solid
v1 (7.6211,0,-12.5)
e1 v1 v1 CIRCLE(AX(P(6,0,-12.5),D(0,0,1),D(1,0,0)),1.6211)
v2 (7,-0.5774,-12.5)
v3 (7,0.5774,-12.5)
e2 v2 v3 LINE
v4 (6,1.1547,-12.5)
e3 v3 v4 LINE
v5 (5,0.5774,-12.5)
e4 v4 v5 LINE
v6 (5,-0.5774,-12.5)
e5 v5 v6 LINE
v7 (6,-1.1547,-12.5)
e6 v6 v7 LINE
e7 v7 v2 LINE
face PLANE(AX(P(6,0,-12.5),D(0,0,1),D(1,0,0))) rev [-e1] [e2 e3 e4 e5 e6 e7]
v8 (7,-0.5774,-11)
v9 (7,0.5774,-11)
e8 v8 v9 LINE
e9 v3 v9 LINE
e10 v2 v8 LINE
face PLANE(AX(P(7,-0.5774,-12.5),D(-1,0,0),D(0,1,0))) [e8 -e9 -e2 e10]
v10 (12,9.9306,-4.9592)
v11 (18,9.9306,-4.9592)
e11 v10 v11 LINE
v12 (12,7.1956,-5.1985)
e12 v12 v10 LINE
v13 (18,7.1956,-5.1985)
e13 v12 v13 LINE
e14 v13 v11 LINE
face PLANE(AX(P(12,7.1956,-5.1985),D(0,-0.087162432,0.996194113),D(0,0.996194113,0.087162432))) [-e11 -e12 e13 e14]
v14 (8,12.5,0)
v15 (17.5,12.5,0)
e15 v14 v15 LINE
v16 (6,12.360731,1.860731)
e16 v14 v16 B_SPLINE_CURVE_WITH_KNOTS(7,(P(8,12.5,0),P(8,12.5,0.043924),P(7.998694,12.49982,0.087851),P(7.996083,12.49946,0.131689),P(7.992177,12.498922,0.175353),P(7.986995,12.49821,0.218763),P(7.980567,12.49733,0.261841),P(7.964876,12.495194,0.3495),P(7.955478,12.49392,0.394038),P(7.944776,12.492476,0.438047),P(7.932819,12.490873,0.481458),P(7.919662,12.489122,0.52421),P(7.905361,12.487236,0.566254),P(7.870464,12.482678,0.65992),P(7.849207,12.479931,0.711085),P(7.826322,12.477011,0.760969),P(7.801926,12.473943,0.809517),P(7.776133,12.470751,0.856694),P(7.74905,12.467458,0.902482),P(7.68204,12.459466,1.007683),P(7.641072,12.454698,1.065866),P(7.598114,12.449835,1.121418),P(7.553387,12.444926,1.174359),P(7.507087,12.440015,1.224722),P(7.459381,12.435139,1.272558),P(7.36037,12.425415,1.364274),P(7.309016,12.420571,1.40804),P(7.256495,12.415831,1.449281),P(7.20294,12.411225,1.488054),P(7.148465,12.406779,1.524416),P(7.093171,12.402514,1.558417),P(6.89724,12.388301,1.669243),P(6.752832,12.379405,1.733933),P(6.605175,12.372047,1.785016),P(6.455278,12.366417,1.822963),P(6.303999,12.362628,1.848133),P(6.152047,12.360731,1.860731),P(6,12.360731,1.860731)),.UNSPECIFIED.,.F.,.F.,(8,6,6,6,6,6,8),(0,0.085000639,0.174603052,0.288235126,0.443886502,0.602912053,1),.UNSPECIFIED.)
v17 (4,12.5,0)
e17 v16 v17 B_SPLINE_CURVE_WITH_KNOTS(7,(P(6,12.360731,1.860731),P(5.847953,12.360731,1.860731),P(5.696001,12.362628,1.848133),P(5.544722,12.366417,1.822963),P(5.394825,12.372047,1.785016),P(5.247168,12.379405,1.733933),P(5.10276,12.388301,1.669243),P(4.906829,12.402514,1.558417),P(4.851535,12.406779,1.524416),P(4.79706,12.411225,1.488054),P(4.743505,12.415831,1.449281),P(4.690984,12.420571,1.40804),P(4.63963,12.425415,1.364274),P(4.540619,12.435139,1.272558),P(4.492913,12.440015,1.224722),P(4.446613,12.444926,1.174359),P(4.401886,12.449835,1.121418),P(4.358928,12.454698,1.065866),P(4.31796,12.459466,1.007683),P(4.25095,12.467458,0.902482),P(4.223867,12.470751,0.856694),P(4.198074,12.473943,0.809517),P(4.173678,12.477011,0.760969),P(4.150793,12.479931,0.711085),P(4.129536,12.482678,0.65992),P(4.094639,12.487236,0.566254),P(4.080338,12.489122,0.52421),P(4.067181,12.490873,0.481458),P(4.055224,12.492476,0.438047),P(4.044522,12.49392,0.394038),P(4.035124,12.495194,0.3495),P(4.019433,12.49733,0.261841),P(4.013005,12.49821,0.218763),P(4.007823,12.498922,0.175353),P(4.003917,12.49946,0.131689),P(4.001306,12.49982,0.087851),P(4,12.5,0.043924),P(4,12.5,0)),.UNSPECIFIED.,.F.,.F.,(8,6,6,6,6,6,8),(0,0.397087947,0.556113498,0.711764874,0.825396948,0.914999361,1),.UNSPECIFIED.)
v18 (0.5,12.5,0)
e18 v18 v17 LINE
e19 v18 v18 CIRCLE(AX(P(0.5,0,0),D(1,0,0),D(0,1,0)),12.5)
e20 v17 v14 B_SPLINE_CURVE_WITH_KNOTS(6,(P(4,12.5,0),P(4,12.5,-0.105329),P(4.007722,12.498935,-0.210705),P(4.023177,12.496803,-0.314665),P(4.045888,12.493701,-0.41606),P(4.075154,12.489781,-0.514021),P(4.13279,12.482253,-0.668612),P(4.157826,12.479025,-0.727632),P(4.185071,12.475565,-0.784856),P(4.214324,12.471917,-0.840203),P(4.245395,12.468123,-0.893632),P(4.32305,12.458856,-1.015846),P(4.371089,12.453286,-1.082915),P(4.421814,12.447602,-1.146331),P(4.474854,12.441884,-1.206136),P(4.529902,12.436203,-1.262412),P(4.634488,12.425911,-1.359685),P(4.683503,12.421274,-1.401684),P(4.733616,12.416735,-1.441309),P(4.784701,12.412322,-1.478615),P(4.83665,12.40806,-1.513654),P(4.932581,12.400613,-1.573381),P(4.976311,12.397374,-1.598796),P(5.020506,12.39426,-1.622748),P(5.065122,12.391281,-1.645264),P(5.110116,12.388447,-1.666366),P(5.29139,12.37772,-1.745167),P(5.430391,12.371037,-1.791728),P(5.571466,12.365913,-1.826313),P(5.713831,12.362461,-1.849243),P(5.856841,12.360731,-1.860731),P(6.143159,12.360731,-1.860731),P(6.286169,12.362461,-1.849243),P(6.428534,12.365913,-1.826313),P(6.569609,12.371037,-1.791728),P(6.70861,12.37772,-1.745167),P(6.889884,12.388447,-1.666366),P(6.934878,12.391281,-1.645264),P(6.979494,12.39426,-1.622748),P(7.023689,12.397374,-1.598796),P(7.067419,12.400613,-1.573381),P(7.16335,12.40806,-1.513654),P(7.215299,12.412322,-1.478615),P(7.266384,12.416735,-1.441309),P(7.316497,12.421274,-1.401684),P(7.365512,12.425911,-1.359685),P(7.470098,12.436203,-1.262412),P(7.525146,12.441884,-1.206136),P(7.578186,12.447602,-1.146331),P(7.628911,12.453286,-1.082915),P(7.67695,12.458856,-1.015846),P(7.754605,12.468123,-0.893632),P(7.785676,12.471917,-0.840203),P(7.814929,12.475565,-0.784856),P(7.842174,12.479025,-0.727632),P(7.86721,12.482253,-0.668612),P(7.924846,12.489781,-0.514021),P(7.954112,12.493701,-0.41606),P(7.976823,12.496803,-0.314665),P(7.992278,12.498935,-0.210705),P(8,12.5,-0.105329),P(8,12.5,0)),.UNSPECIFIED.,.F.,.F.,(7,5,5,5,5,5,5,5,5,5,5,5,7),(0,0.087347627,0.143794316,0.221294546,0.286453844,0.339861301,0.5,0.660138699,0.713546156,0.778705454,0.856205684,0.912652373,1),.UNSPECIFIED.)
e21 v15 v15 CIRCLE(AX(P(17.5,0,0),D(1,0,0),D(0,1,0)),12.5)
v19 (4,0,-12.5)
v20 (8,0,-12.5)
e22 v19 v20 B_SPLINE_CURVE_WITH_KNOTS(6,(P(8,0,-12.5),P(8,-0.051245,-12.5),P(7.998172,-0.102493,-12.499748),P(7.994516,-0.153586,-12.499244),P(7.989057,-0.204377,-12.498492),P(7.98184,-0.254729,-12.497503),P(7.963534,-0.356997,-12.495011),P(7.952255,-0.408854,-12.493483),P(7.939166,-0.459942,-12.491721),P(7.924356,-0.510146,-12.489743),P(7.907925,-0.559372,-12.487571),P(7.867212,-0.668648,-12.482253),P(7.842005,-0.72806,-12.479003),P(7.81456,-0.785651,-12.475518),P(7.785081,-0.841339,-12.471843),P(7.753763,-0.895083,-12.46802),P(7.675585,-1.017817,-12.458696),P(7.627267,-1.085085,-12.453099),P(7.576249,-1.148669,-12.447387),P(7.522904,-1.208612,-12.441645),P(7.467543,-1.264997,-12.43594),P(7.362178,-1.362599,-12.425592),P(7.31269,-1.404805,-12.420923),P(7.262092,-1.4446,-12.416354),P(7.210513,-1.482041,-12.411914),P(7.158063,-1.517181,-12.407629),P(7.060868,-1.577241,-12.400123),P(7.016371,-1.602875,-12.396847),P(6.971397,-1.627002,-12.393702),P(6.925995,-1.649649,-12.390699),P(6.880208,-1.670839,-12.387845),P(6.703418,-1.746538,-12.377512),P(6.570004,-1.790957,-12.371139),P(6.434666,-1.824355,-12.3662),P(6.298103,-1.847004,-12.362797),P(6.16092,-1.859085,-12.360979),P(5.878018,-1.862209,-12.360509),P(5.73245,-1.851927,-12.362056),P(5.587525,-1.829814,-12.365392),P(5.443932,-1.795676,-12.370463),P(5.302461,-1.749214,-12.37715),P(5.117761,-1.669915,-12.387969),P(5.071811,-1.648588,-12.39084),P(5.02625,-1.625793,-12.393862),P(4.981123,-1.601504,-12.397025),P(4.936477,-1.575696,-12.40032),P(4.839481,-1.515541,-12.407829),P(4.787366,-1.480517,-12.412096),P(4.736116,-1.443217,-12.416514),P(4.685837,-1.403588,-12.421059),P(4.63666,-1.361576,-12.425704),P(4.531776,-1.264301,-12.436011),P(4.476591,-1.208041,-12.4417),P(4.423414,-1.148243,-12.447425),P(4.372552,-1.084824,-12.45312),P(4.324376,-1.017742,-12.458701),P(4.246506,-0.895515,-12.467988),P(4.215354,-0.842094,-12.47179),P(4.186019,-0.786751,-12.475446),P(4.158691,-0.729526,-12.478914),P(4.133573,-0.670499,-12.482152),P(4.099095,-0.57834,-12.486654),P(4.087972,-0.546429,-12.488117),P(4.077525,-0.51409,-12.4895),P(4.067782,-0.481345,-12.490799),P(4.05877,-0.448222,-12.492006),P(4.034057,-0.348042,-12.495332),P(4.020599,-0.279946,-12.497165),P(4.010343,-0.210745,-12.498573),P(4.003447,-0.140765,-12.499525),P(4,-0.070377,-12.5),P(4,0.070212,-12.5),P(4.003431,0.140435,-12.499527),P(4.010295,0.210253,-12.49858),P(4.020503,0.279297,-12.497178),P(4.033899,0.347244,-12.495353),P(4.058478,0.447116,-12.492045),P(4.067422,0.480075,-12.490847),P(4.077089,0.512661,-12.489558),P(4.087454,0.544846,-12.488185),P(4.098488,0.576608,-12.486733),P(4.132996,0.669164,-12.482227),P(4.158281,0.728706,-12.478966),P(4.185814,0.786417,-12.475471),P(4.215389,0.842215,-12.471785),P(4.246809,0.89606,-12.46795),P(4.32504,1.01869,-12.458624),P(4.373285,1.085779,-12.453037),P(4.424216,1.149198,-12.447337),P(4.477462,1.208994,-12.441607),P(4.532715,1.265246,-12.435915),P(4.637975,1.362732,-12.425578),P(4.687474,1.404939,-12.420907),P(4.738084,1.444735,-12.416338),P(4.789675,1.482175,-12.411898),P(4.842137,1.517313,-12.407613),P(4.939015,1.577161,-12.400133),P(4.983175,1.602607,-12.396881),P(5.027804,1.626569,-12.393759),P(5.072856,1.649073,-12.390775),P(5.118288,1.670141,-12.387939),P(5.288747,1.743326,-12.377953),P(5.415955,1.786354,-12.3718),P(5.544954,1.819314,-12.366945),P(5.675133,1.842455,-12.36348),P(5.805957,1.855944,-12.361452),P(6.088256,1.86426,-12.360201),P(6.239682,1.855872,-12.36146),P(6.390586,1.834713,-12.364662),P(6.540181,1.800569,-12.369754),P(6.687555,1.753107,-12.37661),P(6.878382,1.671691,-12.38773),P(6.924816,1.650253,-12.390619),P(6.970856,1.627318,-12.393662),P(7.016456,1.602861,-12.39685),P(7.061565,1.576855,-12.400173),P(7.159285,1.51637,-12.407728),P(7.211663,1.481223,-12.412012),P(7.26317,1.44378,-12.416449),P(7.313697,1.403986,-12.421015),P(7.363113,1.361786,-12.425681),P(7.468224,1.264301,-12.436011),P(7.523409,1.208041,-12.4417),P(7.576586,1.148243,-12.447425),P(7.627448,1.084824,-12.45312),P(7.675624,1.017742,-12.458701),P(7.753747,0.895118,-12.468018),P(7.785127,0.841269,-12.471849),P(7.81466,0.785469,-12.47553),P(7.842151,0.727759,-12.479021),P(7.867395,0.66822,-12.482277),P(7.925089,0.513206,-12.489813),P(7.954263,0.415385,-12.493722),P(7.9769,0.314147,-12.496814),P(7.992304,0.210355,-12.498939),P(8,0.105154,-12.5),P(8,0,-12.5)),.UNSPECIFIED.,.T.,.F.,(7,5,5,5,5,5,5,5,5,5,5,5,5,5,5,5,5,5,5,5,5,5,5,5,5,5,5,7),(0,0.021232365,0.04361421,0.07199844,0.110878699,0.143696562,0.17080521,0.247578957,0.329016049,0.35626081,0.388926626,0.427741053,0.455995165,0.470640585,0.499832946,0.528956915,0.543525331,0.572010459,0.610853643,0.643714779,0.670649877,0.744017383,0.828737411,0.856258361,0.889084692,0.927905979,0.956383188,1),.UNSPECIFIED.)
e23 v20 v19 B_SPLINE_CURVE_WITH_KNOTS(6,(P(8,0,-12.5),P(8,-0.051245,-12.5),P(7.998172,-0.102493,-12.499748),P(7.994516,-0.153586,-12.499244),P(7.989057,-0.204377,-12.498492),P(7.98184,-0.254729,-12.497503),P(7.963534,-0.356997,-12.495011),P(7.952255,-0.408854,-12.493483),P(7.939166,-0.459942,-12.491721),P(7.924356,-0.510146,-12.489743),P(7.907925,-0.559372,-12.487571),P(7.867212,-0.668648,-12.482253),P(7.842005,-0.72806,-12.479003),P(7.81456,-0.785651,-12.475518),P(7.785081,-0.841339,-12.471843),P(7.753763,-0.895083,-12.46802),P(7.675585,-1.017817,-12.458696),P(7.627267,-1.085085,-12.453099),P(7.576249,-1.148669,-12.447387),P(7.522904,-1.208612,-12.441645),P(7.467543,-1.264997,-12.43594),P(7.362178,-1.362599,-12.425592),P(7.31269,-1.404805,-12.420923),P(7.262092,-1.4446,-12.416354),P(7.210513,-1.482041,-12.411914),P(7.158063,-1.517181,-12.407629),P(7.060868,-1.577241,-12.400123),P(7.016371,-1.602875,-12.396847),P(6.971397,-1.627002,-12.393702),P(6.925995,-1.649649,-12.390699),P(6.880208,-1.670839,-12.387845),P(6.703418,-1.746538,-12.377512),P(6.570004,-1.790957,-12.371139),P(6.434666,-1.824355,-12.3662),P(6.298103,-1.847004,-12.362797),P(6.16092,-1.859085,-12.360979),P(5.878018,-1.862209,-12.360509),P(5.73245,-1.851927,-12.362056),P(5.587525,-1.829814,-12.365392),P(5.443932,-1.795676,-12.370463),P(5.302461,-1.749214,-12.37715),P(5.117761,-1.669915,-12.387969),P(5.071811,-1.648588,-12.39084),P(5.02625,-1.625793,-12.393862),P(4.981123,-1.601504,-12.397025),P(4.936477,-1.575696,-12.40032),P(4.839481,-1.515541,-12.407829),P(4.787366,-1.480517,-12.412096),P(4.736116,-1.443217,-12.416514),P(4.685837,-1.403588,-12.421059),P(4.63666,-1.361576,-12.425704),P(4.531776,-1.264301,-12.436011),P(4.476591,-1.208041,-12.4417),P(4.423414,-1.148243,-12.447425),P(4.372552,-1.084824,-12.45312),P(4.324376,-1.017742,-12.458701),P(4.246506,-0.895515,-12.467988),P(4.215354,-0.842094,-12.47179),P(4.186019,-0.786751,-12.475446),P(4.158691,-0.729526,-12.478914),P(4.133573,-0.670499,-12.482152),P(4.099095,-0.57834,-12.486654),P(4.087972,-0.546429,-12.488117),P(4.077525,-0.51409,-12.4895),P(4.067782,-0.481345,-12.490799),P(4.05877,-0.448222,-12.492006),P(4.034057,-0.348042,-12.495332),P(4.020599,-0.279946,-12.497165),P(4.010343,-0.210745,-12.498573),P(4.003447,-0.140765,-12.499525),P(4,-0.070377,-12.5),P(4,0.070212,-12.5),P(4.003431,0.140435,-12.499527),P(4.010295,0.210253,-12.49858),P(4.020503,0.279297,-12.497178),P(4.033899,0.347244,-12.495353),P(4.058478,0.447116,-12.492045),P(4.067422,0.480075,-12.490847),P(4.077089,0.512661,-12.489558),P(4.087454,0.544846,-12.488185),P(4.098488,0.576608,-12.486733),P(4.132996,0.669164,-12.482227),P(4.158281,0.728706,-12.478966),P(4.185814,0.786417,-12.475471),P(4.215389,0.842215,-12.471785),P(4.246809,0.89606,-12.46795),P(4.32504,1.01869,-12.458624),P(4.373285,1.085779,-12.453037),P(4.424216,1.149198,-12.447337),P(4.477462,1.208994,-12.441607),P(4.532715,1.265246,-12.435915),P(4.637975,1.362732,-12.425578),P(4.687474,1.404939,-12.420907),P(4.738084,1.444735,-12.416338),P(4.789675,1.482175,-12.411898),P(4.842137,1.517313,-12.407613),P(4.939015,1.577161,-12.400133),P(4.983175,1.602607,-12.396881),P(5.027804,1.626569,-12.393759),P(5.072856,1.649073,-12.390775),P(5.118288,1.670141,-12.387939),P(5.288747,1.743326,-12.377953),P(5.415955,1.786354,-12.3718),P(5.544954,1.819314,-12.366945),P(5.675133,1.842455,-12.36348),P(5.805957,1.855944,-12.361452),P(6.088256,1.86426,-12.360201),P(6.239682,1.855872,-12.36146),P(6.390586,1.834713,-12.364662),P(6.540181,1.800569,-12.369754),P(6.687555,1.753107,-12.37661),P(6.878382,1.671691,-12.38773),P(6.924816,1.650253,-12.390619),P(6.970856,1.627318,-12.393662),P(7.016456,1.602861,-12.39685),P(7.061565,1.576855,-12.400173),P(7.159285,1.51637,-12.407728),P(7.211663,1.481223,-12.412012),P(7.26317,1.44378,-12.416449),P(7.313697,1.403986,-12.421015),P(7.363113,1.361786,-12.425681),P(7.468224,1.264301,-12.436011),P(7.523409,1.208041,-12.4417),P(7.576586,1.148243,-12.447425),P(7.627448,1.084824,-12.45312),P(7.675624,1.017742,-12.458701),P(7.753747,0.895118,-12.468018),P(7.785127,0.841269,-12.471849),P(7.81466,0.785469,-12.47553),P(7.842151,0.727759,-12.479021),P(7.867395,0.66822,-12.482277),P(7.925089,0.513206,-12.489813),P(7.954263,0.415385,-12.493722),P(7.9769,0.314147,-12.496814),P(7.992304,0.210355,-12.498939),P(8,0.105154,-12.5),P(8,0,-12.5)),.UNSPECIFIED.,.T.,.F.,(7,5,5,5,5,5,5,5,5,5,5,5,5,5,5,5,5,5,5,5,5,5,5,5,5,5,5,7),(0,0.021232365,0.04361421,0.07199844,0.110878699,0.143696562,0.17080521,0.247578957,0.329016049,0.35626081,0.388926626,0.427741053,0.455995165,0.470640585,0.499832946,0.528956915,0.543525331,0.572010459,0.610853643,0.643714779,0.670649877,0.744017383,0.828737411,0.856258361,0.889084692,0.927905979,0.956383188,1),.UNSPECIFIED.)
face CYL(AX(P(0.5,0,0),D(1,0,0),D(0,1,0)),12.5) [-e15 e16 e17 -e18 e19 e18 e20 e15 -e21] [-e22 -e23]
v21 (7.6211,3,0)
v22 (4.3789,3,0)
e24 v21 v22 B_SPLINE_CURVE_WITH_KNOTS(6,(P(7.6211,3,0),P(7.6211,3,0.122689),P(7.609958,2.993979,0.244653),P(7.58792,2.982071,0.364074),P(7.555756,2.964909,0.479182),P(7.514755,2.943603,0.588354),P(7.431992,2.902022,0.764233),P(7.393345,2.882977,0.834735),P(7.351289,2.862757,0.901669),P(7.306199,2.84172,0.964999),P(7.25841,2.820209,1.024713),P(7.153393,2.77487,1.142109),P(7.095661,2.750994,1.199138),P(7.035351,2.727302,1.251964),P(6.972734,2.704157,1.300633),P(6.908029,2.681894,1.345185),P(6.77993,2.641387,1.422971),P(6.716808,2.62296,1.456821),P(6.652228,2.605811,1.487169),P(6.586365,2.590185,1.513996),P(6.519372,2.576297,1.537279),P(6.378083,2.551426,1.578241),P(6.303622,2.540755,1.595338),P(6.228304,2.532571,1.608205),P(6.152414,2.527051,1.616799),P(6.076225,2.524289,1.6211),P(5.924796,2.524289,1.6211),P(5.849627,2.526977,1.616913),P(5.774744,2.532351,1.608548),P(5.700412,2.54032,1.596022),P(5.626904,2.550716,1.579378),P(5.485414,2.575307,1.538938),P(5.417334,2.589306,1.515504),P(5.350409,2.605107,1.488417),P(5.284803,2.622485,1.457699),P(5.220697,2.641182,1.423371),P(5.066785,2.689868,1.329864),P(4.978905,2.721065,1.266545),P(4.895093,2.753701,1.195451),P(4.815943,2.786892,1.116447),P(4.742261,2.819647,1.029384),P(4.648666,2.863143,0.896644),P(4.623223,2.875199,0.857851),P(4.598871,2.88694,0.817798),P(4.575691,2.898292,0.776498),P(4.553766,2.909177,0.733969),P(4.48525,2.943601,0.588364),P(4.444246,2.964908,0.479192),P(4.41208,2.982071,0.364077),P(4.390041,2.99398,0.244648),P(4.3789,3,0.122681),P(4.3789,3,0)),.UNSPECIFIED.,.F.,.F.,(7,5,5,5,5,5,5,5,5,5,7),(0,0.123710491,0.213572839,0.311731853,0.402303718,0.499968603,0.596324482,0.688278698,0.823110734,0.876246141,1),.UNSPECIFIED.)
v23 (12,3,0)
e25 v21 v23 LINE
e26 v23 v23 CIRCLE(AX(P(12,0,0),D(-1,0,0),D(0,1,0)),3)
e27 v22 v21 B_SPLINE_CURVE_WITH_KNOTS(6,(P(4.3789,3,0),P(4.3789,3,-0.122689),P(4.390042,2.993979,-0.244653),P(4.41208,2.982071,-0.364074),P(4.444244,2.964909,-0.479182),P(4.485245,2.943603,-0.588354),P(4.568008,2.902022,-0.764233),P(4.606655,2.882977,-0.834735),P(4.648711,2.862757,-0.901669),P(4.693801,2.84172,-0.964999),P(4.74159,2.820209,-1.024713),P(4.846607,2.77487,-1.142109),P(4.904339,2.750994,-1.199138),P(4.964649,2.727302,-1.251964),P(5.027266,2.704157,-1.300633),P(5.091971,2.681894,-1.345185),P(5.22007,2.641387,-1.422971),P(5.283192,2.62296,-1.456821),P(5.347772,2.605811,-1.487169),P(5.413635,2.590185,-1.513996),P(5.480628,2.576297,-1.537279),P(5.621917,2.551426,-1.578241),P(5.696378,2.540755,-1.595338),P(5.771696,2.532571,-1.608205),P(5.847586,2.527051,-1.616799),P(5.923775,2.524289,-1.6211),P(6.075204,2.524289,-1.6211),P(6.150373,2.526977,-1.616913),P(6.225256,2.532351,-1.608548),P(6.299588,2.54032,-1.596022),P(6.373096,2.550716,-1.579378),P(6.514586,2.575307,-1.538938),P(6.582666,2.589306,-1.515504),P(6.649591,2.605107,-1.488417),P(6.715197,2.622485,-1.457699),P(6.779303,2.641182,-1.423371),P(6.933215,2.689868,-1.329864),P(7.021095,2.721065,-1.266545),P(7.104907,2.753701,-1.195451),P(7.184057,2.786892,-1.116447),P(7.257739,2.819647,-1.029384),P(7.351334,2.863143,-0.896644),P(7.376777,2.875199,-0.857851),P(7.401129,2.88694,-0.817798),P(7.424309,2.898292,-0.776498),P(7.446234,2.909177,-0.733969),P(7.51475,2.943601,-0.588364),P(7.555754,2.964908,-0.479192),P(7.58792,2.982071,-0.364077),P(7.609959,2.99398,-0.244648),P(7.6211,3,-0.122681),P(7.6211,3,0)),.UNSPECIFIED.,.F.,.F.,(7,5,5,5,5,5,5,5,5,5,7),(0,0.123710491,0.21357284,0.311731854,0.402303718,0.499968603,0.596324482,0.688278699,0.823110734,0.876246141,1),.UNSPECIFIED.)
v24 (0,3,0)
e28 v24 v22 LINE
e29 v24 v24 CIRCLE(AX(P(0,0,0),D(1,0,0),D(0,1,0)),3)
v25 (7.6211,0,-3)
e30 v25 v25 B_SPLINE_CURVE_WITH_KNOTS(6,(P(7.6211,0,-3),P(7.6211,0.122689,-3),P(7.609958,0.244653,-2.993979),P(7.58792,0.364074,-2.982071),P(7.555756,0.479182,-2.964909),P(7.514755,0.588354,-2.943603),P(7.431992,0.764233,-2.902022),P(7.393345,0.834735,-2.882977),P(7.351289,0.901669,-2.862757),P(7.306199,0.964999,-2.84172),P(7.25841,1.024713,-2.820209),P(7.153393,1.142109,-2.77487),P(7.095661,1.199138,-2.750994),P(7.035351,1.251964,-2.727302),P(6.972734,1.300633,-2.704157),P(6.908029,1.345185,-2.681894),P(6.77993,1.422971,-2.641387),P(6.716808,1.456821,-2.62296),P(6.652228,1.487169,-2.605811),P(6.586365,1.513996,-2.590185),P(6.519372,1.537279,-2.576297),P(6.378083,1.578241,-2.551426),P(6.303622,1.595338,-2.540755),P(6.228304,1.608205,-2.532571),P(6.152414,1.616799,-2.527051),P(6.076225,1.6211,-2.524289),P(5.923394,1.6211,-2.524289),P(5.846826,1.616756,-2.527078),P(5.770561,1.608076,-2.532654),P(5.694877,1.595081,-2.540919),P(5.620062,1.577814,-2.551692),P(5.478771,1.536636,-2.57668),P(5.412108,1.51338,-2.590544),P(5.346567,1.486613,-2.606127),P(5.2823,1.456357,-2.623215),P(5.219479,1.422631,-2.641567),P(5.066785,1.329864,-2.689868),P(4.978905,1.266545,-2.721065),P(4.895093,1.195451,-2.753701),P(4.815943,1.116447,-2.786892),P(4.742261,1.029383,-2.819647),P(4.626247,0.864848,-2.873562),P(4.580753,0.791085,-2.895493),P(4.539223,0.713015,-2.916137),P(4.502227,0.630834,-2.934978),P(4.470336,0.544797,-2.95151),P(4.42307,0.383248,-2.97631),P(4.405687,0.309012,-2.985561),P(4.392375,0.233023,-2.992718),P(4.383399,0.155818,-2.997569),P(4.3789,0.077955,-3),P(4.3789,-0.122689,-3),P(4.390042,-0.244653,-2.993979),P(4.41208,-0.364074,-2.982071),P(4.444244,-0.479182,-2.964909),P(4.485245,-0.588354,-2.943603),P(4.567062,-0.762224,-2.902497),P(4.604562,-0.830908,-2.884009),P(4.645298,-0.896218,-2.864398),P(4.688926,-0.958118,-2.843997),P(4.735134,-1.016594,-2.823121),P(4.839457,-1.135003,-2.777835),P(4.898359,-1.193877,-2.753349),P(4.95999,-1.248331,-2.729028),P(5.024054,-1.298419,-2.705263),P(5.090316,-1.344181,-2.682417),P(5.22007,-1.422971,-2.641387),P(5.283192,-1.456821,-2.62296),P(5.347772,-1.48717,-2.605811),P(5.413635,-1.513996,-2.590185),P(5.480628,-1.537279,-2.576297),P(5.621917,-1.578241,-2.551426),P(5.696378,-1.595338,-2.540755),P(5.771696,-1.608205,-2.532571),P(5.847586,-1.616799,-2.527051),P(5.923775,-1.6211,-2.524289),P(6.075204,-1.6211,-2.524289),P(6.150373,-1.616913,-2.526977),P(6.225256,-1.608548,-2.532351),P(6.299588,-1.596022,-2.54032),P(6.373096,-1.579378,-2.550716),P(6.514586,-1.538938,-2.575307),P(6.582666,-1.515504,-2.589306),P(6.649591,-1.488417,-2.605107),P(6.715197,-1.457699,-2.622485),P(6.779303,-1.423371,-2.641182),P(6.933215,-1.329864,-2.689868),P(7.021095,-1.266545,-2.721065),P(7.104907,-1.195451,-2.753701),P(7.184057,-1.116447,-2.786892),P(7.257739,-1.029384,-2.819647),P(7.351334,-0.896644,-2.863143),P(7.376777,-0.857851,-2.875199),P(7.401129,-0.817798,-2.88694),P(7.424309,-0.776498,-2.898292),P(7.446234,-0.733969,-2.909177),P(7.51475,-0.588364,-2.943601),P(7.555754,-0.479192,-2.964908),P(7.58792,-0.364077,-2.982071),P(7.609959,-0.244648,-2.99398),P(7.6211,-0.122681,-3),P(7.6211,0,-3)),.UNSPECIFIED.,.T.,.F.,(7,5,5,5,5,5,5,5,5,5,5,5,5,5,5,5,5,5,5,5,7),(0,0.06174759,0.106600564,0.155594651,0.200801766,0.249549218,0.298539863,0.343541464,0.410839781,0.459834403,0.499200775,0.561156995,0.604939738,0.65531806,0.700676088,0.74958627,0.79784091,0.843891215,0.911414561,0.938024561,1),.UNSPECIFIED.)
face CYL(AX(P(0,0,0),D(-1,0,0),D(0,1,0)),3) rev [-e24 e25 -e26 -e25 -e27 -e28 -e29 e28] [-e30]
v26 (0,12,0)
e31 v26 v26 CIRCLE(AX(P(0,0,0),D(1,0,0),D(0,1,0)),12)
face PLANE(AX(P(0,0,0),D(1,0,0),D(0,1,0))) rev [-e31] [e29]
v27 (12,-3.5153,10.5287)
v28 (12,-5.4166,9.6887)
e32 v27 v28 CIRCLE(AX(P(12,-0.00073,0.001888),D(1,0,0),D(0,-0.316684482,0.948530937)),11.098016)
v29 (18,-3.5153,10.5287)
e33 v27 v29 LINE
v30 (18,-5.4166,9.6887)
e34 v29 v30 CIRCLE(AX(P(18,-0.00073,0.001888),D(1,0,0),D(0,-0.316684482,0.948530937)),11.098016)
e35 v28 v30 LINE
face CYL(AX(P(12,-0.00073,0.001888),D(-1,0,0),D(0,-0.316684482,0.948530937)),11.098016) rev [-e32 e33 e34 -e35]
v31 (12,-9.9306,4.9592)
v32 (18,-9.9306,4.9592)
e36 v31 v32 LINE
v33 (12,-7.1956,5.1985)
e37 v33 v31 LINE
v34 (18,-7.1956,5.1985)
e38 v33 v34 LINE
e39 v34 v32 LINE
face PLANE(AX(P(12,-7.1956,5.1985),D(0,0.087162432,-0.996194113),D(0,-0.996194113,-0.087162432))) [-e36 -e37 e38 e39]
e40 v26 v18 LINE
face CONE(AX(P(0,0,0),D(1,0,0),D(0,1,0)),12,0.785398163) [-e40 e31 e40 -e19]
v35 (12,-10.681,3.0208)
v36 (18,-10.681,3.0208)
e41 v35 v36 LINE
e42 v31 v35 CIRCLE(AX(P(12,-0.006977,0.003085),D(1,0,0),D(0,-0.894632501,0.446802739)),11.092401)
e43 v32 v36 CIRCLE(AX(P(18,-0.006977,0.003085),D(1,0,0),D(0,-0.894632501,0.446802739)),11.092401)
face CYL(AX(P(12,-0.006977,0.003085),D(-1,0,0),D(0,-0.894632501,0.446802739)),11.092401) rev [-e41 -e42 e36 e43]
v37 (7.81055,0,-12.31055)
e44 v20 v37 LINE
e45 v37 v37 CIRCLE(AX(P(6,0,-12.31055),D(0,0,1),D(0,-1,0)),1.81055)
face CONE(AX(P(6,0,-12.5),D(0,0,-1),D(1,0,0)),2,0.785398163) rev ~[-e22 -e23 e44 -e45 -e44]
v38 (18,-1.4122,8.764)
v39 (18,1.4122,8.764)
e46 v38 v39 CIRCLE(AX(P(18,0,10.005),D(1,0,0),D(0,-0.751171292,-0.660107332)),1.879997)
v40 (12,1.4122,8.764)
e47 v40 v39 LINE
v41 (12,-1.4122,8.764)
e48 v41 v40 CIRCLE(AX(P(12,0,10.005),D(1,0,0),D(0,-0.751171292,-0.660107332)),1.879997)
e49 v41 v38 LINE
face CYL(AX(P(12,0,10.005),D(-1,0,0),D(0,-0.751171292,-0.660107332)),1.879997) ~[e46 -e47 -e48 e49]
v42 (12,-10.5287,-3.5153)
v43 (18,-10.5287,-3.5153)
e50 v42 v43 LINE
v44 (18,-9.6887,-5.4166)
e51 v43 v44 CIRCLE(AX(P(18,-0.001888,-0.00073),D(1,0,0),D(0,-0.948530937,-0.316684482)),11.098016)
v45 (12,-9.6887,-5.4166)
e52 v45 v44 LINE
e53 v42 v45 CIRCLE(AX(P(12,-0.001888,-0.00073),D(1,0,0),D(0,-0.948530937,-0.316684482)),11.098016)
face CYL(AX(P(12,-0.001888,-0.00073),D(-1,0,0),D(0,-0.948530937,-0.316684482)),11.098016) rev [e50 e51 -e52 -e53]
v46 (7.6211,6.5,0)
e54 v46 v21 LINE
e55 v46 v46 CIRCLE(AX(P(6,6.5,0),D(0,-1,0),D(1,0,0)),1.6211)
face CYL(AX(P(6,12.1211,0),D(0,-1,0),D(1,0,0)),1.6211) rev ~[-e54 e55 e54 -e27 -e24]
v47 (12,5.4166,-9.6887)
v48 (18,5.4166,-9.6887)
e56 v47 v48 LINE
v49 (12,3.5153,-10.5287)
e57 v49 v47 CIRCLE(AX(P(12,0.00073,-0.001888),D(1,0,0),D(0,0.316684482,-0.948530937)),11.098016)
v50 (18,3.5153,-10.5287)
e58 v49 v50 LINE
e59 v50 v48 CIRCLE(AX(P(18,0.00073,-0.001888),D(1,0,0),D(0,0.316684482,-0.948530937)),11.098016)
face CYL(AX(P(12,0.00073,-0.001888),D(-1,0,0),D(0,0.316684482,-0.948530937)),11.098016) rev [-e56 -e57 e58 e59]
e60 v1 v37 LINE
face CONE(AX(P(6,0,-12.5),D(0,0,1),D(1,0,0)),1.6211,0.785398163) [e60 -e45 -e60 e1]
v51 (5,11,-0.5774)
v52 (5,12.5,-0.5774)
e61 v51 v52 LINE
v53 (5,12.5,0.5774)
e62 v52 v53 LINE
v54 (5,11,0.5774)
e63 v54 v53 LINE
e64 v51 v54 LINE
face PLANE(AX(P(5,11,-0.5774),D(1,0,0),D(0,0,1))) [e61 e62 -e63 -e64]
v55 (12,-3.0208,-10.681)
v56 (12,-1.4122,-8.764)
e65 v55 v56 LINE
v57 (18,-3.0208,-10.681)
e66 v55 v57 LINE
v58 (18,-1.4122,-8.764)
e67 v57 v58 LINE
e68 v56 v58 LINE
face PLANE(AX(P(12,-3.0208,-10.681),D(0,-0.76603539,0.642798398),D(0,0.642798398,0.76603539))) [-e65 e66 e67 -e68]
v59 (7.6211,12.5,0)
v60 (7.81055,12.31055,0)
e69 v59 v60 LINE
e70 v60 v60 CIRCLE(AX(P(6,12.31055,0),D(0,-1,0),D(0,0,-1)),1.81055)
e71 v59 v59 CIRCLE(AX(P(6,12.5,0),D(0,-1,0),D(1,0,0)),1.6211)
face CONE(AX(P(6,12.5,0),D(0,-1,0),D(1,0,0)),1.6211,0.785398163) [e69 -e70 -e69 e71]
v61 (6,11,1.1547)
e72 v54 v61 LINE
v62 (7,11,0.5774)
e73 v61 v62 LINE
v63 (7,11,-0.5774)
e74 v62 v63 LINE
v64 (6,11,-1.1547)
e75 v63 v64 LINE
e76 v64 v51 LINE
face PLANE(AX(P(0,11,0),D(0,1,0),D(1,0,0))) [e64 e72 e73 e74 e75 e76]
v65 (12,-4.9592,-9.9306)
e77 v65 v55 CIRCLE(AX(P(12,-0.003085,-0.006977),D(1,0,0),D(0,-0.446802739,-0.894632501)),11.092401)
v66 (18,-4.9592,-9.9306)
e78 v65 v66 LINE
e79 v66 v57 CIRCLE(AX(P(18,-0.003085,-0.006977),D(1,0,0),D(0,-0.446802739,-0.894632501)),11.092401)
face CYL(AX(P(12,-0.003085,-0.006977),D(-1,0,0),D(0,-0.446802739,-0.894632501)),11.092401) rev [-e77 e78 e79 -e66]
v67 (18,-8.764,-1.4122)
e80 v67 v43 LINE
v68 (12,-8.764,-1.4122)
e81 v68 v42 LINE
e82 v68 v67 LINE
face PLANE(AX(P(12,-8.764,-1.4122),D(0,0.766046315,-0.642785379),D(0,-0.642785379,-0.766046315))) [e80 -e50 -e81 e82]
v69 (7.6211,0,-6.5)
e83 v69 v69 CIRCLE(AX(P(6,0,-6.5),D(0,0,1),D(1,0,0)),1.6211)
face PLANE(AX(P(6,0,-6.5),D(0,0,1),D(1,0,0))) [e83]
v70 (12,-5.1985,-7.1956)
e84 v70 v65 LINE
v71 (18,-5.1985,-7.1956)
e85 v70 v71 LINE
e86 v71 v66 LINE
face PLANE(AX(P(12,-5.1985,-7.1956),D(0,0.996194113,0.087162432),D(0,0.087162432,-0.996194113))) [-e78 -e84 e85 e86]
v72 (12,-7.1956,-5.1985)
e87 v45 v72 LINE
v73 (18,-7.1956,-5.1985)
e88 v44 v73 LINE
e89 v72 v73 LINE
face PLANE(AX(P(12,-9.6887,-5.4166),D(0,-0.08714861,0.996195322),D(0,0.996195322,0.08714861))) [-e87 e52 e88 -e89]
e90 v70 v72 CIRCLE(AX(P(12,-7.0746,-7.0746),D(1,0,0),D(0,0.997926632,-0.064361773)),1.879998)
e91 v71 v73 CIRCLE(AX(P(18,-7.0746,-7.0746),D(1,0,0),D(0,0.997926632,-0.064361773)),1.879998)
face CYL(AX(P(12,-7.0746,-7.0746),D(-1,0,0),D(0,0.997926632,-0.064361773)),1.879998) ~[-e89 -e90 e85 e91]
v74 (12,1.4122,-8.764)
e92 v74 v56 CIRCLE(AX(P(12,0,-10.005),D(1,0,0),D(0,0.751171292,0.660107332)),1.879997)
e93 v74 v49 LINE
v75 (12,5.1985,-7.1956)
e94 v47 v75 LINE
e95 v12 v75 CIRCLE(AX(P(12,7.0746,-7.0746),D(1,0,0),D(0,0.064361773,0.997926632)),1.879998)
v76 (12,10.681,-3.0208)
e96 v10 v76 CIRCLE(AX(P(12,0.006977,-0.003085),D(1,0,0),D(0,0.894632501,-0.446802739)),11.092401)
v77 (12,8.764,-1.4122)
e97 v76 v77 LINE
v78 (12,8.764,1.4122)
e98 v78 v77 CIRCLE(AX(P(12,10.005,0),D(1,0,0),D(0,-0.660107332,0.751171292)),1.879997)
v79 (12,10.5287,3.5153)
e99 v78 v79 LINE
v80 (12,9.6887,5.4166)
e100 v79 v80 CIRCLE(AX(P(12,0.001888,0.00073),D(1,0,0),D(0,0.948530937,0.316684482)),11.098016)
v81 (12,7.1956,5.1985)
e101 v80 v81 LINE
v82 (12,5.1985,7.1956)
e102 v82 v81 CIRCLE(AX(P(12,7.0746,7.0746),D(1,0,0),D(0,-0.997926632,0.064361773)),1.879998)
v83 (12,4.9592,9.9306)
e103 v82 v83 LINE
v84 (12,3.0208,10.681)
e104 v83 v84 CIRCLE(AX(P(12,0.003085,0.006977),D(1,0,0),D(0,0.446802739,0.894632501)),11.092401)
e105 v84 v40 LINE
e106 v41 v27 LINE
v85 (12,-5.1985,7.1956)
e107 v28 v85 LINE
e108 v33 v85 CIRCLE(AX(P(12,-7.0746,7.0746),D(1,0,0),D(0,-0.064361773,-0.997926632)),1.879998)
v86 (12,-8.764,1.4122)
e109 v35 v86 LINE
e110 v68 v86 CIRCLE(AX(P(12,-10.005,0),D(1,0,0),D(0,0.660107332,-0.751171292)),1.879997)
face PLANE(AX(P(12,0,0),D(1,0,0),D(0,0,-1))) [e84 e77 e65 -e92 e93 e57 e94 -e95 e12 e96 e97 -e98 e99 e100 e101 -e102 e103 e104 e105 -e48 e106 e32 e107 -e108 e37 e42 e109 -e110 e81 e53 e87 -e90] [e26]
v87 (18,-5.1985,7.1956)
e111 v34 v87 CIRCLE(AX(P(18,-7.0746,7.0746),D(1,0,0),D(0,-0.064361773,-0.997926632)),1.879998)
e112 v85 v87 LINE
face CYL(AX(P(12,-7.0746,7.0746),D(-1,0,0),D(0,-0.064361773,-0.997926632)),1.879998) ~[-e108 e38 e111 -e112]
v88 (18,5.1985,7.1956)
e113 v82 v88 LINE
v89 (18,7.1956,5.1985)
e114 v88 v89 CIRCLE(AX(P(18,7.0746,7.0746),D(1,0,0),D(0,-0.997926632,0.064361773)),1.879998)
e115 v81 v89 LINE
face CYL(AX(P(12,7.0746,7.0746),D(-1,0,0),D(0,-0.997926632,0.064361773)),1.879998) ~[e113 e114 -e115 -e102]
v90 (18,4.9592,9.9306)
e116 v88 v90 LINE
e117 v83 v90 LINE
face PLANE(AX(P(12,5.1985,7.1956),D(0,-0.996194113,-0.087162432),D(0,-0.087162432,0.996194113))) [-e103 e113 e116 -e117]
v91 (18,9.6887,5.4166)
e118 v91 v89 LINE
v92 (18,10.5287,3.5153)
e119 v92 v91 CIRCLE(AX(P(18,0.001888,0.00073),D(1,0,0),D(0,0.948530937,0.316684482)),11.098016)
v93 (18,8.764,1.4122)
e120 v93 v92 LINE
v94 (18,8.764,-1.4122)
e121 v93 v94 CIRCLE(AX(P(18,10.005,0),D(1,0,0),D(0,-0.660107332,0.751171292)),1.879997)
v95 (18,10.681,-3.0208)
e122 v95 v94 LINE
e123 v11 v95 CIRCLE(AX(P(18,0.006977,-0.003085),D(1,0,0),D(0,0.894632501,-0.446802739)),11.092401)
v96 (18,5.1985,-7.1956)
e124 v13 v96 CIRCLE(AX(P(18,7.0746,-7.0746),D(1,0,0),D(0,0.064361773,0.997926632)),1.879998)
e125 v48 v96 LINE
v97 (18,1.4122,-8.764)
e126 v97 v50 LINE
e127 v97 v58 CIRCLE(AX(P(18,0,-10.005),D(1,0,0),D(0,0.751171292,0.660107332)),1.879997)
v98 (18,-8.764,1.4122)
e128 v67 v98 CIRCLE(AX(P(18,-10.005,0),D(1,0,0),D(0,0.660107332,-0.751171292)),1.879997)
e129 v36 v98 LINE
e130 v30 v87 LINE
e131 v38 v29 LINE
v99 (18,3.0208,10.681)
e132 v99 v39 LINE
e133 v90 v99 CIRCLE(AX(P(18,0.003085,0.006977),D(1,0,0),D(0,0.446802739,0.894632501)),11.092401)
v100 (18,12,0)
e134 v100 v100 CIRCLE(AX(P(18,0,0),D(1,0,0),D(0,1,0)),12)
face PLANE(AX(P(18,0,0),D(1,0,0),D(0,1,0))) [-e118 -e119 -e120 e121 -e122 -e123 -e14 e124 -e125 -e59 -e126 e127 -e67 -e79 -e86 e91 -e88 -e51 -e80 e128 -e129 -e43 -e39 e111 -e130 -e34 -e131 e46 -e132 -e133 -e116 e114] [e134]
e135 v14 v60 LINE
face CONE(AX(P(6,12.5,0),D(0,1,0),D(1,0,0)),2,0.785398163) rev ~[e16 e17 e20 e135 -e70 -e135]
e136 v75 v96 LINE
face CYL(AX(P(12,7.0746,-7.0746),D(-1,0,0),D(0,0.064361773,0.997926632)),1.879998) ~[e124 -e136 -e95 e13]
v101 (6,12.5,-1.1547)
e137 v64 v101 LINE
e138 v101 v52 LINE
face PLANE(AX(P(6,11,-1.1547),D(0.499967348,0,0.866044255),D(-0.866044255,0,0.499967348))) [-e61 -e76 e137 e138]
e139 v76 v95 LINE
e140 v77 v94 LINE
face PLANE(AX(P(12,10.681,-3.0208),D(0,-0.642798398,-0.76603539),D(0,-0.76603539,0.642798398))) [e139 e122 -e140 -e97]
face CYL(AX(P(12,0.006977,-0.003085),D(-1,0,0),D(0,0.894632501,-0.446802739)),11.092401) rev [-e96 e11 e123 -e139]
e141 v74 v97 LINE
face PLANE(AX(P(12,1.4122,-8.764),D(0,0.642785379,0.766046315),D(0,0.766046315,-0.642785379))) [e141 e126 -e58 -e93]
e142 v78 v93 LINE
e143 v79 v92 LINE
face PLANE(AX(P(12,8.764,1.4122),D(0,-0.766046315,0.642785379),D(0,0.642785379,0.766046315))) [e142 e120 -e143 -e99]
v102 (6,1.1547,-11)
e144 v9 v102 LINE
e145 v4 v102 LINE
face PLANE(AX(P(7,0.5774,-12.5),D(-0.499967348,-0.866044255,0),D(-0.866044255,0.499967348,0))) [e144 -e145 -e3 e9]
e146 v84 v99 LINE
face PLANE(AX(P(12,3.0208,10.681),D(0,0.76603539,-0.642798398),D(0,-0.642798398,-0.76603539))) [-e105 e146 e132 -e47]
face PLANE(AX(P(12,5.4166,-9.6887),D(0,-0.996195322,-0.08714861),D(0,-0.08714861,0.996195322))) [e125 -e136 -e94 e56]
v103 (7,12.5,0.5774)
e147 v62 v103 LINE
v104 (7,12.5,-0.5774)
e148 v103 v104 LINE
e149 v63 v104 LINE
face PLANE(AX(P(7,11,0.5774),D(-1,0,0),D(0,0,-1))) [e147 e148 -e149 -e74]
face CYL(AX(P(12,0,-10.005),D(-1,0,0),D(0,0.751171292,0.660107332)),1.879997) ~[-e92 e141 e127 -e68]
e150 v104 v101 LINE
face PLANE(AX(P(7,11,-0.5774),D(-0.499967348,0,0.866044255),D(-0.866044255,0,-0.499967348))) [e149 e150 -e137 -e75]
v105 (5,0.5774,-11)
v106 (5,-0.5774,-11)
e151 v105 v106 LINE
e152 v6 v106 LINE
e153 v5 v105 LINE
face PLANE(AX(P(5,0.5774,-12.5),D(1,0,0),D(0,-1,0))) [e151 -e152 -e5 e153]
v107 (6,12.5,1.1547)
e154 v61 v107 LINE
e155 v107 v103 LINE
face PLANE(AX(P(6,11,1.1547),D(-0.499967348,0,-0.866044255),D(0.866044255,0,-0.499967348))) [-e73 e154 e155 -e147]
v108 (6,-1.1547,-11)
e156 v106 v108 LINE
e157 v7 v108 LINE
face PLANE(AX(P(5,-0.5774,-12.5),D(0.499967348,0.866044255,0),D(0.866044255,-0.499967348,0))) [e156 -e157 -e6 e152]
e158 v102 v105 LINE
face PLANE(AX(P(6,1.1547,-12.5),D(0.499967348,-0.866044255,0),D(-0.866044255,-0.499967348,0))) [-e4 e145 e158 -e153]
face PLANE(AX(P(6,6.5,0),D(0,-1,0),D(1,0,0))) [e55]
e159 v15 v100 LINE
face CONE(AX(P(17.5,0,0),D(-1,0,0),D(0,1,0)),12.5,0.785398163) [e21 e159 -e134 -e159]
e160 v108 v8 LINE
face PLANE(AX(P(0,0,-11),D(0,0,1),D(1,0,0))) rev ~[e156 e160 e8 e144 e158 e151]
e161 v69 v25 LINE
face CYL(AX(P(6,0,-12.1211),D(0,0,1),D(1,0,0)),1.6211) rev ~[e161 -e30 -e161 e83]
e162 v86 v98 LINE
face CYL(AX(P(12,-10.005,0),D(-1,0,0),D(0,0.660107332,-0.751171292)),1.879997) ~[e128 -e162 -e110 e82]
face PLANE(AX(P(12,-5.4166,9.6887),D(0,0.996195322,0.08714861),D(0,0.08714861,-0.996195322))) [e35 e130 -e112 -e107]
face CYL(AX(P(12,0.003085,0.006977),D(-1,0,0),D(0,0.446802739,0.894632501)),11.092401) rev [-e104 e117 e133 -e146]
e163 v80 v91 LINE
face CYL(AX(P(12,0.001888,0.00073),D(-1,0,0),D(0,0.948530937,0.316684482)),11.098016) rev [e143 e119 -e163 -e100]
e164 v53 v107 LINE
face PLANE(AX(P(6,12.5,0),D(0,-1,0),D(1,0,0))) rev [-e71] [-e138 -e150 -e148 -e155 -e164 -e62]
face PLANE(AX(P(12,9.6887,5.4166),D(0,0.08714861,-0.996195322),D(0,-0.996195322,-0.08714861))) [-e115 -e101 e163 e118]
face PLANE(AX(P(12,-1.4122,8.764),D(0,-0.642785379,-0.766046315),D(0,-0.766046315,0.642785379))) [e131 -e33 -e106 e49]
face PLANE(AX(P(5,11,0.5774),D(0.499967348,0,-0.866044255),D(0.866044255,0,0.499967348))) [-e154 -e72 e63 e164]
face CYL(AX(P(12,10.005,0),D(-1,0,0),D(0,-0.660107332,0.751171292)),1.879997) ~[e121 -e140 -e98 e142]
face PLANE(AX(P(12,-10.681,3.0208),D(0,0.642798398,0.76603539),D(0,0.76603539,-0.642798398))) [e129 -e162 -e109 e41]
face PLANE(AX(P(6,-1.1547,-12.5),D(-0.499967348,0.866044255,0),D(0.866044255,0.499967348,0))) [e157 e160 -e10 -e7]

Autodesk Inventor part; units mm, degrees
sketch "Sketch_1" plane through (0, 0, 0) normal (0, 0, 1) x (1, 0, 0)
  line L0 (18, 0) -> (0, 0)
  line L1 (0, 0) -> (0, 12)
  line L2 (0, 12) -> (0.5, 12.5)
  line L3 (0.5, 12.5) -> (17.5, 12.5)
  line L4 (17.5, 12.5) -> (18, 12)
  line L5 (18, 12) -> (18, 0)
  line L6 (18, 0) -> (0, 0)
revolve "Revolution1" add sketch "Sketch_1" angle 360 about axis through (18, 0, 0) along (1, 0, 0)
sketch "Sketch_2" plane through (12, 0, 0) normal (1, 0, 0) x (0, 0, -1)
  line L0 (-10.681, 3.0208) -> (-8.764, 1.4122)
  arc A0 (-8.764, -1.4122) -> (-8.764, 1.4122) centre (-10.005, 0) ccw
  line L1 (-8.764, -1.4122) -> (-10.5287, -3.5153)
  arc A1 (-10.5287, -3.5153) -> (-9.6887, -5.4166) centre (0, 0) ccw
  line L2 (-9.6887, -5.4166) -> (-7.1956, -5.1985)
  arc A2 (-5.1985, -7.1956) -> (-7.1956, -5.1985) centre (-7.0746, -7.0746) ccw
  line L3 (-5.1985, -7.1956) -> (-4.9592, -9.9306)
  arc A3 (-4.9592, -9.9306) -> (-3.0208, -10.681) centre (0, 0) ccw
  line L4 (-3.0208, -10.681) -> (-1.4122, -8.764)
  arc A4 (1.4122, -8.764) -> (-1.4122, -8.764) centre (0, -10.005) ccw
  line L5 (1.4122, -8.764) -> (3.5153, -10.5287)
  arc A5 (3.5153, -10.5287) -> (5.4166, -9.6887) centre (0, 0) ccw
  line L6 (5.4166, -9.6887) -> (5.1985, -7.1956)
  arc A6 (7.1956, -5.1985) -> (5.1985, -7.1956) centre (7.0746, -7.0746) ccw
  line L7 (7.1956, -5.1985) -> (9.9306, -4.9592)
  arc A7 (9.9306, -4.9592) -> (10.681, -3.0208) centre (0, 0) ccw
  line L8 (10.681, -3.0208) -> (8.764, -1.4122)
  arc A8 (8.764, 1.4122) -> (8.764, -1.4122) centre (10.005, 0) ccw
  line L9 (8.764, 1.4122) -> (10.5287, 3.5153)
  arc A9 (10.5287, 3.5153) -> (9.6887, 5.4166) centre (0, 0) ccw
  line L10 (9.6887, 5.4166) -> (7.1956, 5.1985)
  arc A10 (5.1985, 7.1956) -> (7.1956, 5.1985) centre (7.0746, 7.0746) ccw
  line L11 (5.1985, 7.1956) -> (4.9592, 9.9306)
  arc A11 (4.9592, 9.9306) -> (3.0208, 10.681) centre (0, 0) ccw
  line L12 (3.0208, 10.681) -> (1.4122, 8.764)
  arc A12 (-1.4122, 8.764) -> (1.4122, 8.764) centre (0, 10.005) ccw
  line L13 (-1.4122, 8.764) -> (-3.5153, 10.5287)
  arc A13 (-3.5153, 10.5287) -> (-5.4166, 9.6887) centre (0, 0) ccw
  line L14 (-5.4166, 9.6887) -> (-5.1985, 7.1956)
  arc A14 (-7.1956, 5.1985) -> (-5.1985, 7.1956) centre (-7.0746, 7.0746) ccw
  line L15 (-7.1956, 5.1985) -> (-9.9306, 4.9592)
  arc A15 (-9.9306, 4.9592) -> (-10.681, 3.0208) centre (0, 0) ccw
extrude "Extrusion1" cut sketch "Sketch_2" along normal blind 6
sketch "Sketch_3" plane through (0, 0, 0) normal (1, 0, 0) x (0, 1, 0)
  circle A0 centre (0, 0) radius 3
extrude "Extrusion2" cut sketch "Sketch_3" along normal mid plane 34
sketch "Sketch_4" plane through (0, 0, 0) normal (0, 0, 1) x (1, 0, 0)
  line L0 (6, 0) -> (6, 12.5)
  line L1 (6, 12.5) -> (8, 12.5)
  line L2 (8, 12.5) -> (7.6211, 12.1211)
  line L3 (7.6211, 12.1211) -> (7.6211, 0.3789)
  line L4 (7.6211, 0.3789) -> (8, 0)
  line L5 (8, 0) -> (6, 0)
  line L6 (6, 0) -> (6, 12.5)
revolve "Revolution2" cut sketch "Sketch_4" angle 360 about axis through (6, 0, 0) along (0, -1, 0)
sketch "Sketch_6" plane through (0, 0, 0) normal (0, 1, 0) x (-1, 0, 0)
  line L0 (-6, 0) -> (-6, -12.5)
  line L1 (-6, -12.5) -> (-8, -12.5)
  line L2 (-8, -12.5) -> (-7.6211, -12.1211)
  line L3 (-7.6211, -12.1211) -> (-7.6211, -0.3789)
  line L4 (-7.6211, -0.3789) -> (-8, 0)
  line L5 (-8, 0) -> (-6, 0)
  line L6 (-6, 0) -> (-6, -12.5)
revolve "Revolution3" cut sketch "Sketch_6" angle 360 about axis through (6, 0, 0) along (0, 0, 1)
sketch "Sketch_8" plane through (0, 0, 0) normal (0, 0, 1) x (1, 0, 0)
  line L0 (6, 6.5) -> (6, 12.5)
  line L1 (6, 12.5) -> (7.6211, 12.5)
  line L2 (7.6211, 12.5) -> (8, 12.1211)
  line L3 (8, 12.1211) -> (8, 6.8789)
  line L4 (8, 6.8789) -> (7.6211, 6.5)
  line L5 (7.6211, 6.5) -> (6, 6.5)
  line L6 (6, 6.5) -> (6, 12.5)
revolve "Revolution4" add sketch "Sketch_8" angle 360 about axis through (6, 6.5, 0) along (0, -1, 0)
sketch "Sketch_5" plane through (0, 11, 0) normal (0, 1, 0) x (1, 0, 0)
  line L0 (5, -0.5774) -> (6, -1.1547)
  line L1 (6, -1.1547) -> (7, -0.5774)
  line L2 (7, -0.5774) -> (7, 0.5774)
  line L3 (7, 0.5774) -> (6, 1.1547)
  line L4 (6, 1.1547) -> (5, 0.5774)
  line L5 (5, 0.5774) -> (5, -0.5774)
extrude "Extrusion3" cut sketch "Sketch_5" along normal blind 1.5
sketch "Sketch_7" plane through (0, 0, 0) normal (0, 1, 0) x (-1, 0, 0)
  line L0 (-6, -6.5) -> (-6, -12.5)
  line L1 (-6, -12.5) -> (-7.6211, -12.5)
  line L2 (-7.6211, -12.5) -> (-8, -12.1211)
  line L3 (-8, -12.1211) -> (-8, -6.8789)
  line L4 (-8, -6.8789) -> (-7.6211, -6.5)
  line L5 (-7.6211, -6.5) -> (-6, -6.5)
  line L6 (-6, -6.5) -> (-6, -12.5)
revolve "Revolution5" add sketch "Sketch_7" angle 360 about axis through (6, 0, -6.5) along (0, 0, 1)
sketch "Sketch_9" plane through (0, 0, -12.5) normal (0, 0, 1) x (1, 0, 0)
  line L0 (5, -0.5774) -> (6, -1.1547)
  line L1 (6, -1.1547) -> (7, -0.5774)
  line L2 (7, -0.5774) -> (7, 0.5774)
  line L3 (7, 0.5774) -> (6, 1.1547)
  line L4 (6, 1.1547) -> (5, 0.5774)
  line L5 (5, 0.5774) -> (5, -0.5774)
extrude "Extrusion4" cut sketch "Sketch_9" along normal blind 1.5
ref_plane "left_XY" through (12, 0, 0) normal (1, 0, 0) x (0, 0, -1)
ref_plane "left_YZ" through (12, 0, 0) normal (0, 0, -1) x (0, 1, 0)
ref_plane "left_ZX" through (12, 0, 0) normal (0, 1, 0) x (1, 0, 0)
ref_plane "left_dummy_XY" through (0, 0, 0) normal (1, 0, 0) x (0, 0, -1)
ref_plane "left_dummy_YZ" through (0, 0, 0) normal (0, 0, -1) x (0, 1, 0)
ref_plane "left_dummy_ZX" through (0, 0, 0) normal (0, 1, 0) x (1, 0, 0)
properties part number "MSF-25 - 6-8 Casing 1"
